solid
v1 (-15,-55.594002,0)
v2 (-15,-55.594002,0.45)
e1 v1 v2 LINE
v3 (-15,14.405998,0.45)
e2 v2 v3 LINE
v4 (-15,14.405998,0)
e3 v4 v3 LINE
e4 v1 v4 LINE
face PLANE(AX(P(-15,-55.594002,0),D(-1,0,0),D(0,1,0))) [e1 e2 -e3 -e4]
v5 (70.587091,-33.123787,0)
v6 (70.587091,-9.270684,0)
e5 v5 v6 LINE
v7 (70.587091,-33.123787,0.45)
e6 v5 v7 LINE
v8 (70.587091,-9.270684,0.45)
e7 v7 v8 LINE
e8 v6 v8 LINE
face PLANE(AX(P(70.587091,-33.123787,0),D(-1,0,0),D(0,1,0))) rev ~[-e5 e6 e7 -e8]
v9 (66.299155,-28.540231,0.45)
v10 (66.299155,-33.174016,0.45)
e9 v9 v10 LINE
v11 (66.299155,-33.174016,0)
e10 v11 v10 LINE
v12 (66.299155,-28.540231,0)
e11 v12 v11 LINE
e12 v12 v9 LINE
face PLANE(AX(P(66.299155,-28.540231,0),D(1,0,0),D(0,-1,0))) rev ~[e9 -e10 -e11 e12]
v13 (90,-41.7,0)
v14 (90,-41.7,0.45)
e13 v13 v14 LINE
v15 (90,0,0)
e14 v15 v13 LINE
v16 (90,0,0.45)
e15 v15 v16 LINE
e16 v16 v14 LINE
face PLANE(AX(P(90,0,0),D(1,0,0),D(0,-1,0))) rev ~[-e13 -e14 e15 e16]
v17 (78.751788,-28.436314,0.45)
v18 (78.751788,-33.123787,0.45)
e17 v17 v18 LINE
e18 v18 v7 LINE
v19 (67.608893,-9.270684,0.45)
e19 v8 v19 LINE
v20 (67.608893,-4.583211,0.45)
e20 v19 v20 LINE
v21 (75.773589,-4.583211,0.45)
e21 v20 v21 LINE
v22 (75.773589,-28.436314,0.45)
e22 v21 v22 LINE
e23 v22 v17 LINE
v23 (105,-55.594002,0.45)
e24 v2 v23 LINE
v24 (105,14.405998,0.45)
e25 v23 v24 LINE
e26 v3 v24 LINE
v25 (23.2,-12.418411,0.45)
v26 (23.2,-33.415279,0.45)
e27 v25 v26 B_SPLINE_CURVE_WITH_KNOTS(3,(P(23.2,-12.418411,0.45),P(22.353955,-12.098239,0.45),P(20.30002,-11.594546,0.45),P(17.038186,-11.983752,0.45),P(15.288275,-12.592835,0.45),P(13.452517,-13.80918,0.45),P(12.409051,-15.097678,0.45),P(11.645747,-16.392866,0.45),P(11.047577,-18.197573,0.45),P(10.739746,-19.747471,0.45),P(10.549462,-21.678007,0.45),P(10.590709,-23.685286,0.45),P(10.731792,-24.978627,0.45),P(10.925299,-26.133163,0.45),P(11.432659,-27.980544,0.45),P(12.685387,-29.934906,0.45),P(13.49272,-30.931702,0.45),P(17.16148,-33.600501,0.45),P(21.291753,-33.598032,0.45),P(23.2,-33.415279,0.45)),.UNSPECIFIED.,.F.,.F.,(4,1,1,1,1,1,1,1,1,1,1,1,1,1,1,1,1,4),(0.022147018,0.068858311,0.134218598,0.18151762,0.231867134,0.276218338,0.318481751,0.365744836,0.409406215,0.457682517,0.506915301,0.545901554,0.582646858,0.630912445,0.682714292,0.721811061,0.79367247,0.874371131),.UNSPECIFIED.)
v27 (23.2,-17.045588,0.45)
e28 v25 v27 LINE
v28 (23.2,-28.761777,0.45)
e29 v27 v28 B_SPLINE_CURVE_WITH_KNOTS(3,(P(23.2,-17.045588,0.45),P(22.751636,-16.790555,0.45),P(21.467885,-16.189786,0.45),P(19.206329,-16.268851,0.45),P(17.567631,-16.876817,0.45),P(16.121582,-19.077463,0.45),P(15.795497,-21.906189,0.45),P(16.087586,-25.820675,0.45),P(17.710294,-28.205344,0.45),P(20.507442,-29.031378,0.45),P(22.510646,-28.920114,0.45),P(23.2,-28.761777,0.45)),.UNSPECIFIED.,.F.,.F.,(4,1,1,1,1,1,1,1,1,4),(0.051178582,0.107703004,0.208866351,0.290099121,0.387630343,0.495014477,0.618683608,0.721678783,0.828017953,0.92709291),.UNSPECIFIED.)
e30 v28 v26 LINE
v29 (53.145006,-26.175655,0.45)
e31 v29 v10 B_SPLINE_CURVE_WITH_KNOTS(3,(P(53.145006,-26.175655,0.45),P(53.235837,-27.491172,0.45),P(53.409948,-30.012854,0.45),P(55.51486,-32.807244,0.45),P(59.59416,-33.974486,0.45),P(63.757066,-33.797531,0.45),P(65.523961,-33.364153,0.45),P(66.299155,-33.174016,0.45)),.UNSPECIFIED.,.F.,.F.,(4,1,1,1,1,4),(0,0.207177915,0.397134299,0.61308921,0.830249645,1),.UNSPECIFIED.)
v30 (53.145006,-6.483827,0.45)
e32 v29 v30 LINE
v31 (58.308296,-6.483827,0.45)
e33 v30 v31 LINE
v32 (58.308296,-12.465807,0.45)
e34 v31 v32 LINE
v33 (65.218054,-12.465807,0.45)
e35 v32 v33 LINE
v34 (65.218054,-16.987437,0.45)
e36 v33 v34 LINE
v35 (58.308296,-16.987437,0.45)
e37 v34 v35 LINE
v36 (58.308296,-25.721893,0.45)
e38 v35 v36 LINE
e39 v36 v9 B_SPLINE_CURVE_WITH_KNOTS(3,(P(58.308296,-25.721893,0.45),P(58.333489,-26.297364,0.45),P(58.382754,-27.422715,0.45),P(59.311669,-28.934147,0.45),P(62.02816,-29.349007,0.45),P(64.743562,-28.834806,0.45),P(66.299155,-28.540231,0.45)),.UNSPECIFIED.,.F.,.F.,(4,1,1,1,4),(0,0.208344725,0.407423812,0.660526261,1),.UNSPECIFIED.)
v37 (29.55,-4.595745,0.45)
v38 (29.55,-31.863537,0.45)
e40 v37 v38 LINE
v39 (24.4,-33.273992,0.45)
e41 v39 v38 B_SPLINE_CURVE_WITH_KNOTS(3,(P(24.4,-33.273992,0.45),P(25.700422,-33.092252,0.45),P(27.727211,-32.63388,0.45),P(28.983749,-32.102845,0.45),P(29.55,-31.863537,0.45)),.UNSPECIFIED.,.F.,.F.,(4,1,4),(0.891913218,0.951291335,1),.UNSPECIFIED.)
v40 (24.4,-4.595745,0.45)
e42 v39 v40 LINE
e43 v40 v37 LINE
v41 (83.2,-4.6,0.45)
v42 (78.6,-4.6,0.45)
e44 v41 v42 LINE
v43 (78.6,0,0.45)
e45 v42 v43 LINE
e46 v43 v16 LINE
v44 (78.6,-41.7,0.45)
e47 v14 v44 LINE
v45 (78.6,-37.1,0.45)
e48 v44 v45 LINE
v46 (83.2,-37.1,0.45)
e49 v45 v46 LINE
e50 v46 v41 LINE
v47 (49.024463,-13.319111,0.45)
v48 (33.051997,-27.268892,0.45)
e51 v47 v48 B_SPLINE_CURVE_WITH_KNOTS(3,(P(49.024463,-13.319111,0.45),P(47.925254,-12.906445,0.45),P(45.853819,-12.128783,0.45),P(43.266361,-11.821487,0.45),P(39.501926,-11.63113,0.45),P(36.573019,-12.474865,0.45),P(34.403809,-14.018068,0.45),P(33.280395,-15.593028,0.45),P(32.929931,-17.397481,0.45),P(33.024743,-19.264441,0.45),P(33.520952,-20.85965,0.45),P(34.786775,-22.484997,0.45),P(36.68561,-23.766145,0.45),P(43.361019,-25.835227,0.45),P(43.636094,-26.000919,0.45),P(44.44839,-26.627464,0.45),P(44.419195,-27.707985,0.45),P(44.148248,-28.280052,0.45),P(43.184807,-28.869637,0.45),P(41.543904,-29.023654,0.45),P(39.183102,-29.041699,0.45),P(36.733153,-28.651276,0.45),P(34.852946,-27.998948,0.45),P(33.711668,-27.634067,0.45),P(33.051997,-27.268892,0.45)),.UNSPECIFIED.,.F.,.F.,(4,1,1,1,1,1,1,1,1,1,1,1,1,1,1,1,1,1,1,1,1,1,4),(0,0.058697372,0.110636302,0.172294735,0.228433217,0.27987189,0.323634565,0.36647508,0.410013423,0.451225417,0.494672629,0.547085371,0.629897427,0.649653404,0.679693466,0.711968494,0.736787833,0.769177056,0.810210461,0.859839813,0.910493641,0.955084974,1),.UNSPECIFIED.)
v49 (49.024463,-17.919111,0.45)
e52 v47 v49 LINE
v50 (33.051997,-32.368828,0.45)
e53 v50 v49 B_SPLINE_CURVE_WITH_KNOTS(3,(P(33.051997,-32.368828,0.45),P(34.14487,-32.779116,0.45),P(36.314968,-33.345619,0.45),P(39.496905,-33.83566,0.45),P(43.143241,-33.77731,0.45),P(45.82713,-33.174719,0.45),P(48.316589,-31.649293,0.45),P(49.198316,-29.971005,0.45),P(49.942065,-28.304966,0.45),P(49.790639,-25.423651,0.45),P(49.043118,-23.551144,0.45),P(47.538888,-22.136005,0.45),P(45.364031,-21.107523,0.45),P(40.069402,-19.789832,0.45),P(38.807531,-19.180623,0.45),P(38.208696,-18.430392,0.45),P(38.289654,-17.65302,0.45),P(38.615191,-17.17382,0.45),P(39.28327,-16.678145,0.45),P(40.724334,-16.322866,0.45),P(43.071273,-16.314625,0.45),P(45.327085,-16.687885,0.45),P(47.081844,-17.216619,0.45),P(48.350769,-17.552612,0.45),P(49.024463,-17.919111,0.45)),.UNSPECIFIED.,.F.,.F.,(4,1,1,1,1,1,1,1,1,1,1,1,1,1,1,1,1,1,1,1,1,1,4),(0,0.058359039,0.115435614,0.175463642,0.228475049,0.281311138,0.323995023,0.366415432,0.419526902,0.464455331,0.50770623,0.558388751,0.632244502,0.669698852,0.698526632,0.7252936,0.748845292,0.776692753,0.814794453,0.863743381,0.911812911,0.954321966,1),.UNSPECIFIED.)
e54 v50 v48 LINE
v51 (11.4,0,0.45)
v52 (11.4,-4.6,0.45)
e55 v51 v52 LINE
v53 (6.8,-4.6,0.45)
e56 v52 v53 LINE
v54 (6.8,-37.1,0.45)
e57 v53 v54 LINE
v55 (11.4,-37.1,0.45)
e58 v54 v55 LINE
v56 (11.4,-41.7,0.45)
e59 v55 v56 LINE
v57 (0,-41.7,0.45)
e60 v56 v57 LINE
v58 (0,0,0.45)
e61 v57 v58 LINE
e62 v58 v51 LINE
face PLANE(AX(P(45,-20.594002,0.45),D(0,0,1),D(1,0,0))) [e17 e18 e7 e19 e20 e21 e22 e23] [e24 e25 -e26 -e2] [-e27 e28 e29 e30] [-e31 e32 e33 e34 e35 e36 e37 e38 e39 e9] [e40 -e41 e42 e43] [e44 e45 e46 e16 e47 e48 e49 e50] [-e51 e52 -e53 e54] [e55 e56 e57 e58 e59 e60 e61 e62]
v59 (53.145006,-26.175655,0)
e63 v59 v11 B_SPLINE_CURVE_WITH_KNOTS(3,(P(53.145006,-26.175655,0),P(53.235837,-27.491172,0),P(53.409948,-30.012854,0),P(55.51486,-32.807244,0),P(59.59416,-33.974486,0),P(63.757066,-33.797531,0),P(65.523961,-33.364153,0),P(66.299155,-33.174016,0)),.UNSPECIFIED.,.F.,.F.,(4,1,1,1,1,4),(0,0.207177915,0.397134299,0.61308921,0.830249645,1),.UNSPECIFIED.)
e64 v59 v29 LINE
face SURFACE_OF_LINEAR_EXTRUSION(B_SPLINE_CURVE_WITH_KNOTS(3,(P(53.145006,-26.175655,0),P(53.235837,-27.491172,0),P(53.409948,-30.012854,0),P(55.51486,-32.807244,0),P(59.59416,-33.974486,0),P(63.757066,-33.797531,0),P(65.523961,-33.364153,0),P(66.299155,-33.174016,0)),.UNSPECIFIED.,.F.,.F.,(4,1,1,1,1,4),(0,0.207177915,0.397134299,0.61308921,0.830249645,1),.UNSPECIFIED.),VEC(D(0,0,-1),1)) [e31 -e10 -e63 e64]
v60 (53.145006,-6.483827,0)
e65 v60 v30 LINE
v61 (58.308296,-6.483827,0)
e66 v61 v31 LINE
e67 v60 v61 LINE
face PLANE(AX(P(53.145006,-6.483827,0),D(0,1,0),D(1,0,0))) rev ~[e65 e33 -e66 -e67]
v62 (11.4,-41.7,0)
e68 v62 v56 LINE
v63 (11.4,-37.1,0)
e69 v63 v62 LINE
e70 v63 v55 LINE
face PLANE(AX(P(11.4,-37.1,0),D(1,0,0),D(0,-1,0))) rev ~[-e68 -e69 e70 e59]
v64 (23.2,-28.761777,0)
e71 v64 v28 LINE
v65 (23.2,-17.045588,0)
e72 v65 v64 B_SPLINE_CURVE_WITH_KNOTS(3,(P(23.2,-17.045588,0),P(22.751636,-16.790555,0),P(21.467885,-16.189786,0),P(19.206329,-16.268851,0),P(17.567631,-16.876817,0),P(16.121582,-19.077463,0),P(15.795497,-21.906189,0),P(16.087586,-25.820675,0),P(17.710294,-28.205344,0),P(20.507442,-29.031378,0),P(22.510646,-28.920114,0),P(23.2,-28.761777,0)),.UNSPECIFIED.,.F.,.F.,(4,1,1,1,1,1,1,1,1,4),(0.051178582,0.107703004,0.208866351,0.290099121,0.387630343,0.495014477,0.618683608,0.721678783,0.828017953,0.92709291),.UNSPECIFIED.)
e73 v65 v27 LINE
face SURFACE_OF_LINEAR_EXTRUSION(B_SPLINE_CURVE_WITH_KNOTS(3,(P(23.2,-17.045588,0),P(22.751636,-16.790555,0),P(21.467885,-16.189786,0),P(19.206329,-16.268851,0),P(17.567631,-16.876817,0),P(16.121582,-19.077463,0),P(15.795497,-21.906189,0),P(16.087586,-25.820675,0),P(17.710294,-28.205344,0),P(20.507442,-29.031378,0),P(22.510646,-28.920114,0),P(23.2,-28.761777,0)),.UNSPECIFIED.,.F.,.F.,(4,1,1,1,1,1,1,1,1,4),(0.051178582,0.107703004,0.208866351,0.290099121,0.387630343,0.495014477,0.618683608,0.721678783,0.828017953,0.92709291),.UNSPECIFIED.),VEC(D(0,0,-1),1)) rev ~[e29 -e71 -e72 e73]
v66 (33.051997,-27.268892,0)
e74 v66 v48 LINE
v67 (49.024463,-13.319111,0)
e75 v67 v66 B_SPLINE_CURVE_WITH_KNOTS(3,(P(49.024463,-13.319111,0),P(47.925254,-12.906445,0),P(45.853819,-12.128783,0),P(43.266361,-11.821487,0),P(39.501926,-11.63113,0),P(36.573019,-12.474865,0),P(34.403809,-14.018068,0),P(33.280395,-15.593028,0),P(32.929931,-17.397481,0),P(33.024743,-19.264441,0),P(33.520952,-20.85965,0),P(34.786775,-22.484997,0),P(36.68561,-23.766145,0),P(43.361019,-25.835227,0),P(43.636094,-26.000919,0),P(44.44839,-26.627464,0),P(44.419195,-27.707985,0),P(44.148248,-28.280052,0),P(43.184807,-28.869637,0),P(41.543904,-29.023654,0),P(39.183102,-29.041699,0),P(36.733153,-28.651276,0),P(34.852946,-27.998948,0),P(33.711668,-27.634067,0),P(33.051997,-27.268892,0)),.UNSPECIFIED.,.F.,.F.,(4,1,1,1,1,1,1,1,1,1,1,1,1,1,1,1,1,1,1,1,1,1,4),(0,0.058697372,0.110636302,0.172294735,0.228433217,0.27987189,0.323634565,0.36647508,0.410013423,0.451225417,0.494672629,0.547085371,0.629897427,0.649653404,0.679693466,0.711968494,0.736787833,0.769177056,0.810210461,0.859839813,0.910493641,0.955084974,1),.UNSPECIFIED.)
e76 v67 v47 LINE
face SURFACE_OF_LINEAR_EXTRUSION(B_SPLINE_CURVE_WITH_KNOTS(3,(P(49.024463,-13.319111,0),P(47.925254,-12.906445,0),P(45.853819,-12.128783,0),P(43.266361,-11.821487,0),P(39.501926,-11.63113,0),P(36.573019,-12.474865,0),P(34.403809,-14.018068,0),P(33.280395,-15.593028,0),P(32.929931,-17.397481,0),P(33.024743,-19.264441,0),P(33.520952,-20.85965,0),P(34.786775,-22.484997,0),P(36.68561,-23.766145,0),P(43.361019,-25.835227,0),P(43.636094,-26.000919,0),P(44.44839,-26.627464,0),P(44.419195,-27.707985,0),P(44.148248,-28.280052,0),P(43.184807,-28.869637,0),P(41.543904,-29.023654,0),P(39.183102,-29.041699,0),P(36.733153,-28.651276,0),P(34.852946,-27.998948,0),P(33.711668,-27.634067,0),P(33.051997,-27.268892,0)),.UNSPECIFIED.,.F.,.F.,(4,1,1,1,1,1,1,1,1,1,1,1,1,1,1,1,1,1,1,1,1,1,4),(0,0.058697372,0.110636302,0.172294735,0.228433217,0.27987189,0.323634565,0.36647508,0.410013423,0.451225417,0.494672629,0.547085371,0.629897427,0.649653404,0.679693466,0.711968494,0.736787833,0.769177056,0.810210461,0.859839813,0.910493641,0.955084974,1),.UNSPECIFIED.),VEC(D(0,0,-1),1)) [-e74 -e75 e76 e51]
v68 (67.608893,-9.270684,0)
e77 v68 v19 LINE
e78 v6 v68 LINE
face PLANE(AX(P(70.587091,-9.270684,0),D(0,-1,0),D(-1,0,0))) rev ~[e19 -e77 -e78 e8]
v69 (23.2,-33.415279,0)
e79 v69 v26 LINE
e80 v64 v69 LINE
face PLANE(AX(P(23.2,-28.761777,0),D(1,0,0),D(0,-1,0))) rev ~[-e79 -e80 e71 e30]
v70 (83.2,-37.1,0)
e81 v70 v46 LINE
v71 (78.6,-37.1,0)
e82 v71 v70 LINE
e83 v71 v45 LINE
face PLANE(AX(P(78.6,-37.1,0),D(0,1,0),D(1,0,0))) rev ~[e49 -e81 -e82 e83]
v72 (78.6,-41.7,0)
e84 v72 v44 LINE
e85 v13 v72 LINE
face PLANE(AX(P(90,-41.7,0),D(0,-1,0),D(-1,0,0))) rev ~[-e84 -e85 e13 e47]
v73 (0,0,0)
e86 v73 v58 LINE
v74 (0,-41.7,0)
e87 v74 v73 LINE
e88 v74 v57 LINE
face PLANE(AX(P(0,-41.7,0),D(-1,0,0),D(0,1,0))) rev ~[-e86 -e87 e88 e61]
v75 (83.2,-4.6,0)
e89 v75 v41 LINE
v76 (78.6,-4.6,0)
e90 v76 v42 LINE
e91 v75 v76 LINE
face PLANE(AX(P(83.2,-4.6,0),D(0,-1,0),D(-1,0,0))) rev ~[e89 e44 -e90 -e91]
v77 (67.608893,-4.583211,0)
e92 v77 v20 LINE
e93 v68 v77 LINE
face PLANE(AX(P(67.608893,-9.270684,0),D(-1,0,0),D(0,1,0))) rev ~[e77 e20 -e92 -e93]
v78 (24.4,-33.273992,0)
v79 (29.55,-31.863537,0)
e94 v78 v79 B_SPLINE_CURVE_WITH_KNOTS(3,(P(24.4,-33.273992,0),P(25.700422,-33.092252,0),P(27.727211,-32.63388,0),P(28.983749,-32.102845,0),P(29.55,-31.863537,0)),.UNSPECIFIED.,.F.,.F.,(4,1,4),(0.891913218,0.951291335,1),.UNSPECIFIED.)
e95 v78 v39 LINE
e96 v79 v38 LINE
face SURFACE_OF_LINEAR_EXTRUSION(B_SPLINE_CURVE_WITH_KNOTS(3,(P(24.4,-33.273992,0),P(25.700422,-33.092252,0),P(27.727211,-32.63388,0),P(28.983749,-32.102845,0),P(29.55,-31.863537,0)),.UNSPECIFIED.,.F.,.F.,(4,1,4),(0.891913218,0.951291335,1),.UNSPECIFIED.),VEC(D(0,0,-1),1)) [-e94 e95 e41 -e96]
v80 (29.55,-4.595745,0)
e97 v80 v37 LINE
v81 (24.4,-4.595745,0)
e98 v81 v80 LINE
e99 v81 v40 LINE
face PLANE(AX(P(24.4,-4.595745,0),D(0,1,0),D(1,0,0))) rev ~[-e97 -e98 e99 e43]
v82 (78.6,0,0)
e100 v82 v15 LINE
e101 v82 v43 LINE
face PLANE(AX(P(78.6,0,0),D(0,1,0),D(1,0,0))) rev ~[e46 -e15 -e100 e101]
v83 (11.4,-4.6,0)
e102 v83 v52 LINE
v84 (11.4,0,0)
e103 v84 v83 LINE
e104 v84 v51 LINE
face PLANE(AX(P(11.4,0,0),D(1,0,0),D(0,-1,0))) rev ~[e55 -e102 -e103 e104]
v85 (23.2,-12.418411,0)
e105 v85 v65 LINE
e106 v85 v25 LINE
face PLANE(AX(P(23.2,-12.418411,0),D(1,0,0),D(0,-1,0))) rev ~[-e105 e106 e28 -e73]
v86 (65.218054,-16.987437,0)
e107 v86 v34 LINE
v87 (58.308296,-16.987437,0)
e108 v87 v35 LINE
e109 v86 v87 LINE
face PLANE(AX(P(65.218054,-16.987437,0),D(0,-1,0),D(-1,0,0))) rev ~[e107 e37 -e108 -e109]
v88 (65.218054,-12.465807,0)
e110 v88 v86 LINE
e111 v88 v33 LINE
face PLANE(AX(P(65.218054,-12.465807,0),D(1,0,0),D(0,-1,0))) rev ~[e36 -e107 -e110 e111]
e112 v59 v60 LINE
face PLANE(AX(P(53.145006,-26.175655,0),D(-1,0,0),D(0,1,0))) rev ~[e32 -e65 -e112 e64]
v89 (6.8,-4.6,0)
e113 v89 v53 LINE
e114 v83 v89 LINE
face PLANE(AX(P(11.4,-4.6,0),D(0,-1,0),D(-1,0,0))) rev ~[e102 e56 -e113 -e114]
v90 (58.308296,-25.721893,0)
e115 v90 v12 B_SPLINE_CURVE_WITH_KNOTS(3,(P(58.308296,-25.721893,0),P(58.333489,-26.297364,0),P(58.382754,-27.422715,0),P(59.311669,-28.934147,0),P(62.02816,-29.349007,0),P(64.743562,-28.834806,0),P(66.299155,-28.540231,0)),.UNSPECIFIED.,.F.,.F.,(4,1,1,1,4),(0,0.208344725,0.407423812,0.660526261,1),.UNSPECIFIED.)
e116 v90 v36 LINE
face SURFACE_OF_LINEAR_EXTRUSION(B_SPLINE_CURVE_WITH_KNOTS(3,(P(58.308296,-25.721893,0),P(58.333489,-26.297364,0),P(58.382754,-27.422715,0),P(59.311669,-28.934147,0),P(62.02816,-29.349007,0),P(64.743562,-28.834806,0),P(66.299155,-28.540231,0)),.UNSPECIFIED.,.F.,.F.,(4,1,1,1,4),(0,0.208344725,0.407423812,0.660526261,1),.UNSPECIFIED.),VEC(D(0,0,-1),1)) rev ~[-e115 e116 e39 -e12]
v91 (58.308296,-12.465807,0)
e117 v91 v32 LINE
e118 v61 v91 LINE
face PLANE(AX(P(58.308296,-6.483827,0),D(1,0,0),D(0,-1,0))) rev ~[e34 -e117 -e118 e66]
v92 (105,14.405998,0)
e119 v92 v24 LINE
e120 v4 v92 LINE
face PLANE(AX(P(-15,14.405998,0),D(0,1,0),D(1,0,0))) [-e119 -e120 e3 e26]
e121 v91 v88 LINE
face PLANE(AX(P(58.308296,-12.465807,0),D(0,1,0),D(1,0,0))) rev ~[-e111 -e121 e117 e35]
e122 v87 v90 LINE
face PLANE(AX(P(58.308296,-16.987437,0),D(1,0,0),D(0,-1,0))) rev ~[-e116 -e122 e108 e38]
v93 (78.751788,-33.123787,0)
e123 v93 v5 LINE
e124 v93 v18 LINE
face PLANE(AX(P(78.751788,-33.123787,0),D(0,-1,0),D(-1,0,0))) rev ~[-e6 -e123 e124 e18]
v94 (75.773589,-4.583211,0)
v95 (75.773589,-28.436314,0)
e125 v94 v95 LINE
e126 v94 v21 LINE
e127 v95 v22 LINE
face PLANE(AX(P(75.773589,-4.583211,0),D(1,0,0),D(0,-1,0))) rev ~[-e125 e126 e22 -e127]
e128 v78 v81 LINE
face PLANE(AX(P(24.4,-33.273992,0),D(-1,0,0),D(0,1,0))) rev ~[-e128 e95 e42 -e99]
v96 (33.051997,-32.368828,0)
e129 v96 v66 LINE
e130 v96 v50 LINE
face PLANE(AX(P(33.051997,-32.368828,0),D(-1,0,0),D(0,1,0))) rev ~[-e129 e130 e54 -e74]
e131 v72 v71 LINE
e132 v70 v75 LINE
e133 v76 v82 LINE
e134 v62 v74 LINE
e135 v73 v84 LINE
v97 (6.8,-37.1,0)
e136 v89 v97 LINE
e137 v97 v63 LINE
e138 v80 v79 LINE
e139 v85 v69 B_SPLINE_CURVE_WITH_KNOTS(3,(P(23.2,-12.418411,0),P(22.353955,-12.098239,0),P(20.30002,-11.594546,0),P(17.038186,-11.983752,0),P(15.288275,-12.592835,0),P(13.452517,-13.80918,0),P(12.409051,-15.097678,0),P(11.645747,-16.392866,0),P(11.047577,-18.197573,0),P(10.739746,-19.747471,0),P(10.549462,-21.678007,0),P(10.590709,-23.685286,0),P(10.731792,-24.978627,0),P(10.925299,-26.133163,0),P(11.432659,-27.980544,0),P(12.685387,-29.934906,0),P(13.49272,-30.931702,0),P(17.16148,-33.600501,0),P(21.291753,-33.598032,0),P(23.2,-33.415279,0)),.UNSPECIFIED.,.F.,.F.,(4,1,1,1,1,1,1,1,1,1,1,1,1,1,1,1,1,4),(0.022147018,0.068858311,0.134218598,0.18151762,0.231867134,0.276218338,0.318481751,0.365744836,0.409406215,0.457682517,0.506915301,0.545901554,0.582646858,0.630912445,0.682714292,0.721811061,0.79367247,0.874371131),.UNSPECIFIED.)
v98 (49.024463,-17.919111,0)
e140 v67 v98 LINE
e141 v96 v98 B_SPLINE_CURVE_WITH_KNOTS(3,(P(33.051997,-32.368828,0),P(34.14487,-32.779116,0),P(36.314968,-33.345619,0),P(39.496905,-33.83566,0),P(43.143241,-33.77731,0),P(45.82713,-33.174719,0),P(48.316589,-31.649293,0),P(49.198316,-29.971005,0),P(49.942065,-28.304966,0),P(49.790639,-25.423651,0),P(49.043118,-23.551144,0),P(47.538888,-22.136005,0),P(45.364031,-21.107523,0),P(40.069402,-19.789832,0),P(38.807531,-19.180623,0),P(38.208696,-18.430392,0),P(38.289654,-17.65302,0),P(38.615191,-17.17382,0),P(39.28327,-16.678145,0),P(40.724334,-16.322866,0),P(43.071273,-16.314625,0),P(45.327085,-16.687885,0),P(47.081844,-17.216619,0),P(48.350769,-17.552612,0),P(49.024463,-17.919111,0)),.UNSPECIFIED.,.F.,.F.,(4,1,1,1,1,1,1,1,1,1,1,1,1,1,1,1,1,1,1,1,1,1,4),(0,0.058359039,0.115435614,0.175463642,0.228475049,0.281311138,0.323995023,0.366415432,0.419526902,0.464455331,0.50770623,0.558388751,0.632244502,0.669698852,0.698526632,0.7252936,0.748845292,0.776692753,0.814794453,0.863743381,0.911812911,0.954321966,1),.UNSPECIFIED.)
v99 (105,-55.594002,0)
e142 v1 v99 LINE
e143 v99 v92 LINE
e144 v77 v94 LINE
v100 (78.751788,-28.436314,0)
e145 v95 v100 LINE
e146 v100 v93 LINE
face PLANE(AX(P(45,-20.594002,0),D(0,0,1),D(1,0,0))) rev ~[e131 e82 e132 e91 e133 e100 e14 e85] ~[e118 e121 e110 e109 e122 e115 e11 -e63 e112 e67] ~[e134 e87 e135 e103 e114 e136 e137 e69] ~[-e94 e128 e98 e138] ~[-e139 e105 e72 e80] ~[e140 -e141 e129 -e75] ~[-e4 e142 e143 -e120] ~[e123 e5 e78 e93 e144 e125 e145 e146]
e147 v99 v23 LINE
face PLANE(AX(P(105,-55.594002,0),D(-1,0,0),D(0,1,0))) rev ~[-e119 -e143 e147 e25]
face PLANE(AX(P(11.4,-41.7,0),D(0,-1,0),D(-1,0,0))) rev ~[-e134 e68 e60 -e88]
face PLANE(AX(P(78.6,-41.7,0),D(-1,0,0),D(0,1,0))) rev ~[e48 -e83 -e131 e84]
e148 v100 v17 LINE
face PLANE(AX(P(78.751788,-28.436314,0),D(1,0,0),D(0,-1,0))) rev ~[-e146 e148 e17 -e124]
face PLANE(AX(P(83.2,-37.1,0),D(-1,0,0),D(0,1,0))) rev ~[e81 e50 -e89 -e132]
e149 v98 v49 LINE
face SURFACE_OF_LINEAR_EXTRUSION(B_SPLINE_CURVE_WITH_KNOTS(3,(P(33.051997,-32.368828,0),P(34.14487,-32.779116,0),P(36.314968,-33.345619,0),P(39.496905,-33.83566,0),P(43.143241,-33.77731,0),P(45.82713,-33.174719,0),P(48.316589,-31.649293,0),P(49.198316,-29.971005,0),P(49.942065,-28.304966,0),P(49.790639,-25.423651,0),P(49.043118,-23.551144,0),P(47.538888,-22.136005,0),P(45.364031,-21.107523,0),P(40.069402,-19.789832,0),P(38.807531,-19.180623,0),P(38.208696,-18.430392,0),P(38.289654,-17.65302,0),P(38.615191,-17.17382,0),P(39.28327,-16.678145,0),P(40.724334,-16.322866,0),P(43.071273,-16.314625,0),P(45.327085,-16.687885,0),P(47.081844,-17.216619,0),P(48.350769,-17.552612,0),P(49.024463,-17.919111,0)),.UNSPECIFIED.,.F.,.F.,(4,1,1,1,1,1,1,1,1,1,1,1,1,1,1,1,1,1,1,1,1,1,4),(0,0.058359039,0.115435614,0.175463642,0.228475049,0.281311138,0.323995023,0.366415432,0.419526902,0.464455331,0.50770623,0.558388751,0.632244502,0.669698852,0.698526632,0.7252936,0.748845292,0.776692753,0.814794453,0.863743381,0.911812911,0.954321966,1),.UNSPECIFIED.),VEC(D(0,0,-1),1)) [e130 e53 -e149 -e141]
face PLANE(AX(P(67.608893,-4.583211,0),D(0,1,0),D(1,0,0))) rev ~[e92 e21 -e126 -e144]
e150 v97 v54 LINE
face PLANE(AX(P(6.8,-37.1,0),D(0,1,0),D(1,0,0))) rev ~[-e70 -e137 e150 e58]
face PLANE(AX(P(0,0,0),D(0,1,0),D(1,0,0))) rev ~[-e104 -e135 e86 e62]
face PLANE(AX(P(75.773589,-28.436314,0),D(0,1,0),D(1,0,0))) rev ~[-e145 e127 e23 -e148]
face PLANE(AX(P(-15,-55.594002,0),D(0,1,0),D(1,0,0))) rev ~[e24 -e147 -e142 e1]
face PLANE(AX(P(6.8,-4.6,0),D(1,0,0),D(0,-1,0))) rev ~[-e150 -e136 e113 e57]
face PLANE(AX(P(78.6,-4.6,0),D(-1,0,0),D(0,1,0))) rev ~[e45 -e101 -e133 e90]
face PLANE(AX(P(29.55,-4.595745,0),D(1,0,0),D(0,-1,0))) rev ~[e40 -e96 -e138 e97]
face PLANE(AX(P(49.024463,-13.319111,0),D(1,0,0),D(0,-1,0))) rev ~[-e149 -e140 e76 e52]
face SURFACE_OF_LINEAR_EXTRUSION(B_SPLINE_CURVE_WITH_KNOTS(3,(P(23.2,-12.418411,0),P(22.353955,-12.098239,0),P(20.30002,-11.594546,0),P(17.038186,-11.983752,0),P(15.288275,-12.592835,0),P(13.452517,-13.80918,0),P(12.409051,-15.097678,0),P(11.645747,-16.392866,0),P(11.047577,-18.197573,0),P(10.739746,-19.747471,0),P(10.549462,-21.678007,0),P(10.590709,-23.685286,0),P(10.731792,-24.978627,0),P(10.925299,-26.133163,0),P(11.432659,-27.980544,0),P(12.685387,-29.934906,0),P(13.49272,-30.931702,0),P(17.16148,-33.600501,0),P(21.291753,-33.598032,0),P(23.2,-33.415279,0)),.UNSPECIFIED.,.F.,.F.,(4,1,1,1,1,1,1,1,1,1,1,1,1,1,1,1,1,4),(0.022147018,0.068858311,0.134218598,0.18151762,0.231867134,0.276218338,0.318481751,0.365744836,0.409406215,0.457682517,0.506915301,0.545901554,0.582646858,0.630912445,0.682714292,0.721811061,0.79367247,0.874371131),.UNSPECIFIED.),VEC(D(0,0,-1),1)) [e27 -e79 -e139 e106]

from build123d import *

# Parameters (mm, degrees)
F0_W     = 120
F0_H     = 70
F1_DEPTH = 0.45


with BuildPart() as f1:
    # F0 (on Top) → F1 (new body)
    with BuildSketch(Plane.XY):
        with Locations((45, -20.5940017916)):
            Rectangle(F0_W, F0_H)
        Polygon((0, -41.7), (0, 0), (11.4, 0), (11.4, -4.6), (6.8, -4.6), (6.8, -37.1), (11.4, -37.1), (11.4, -41.7), align=None, mode=Mode.SUBTRACT)
        with BuildLine():
            add(Edge.make_bspline(
                [(49.0244626999, -13.3191114292), (47.9252540228, -12.906444504), (45.8538191761, -12.1287826579), (43.2663612955, -11.8214869365), (39.5019255003, -11.631129664), (36.5730189912, -12.474864537), (34.4038092797, -14.0180676075), (33.2803945568, -15.5930284945), (32.9299313394, -17.3974807024), (33.0247430864, -19.2644407239), (33.5209522718, -20.8596497074), (34.7867749379, -22.4849974638), (36.6856103348, -23.7661448154), (43.3610194247, -25.835227061), (43.6360937065, -26.0009190891), (44.4483901258, -26.6274642223), (44.4191952723, -27.7079845936), (44.1482479669, -28.2800521941), (43.1848069992, -28.8696367955), (41.5439042842, -29.0236538432), (39.1831019682, -29.0416993352), (36.7331527398, -28.6512756574), (34.8529455055, -27.9989479915), (33.7116681039, -27.6340674609), (33.0519974232, -27.2688921541)],
                knots=[0, 0, 0, 0, 0.058697372, 0.110636302, 0.1722947346, 0.2284332174, 0.2798718904, 0.3236345653, 0.3664750805, 0.4100134235, 0.4512254168, 0.4946726294, 0.5470853711, 0.6298974275, 0.6496534035, 0.6796934664, 0.7119684935, 0.7367878326, 0.7691770555, 0.8102104611, 0.8598398129, 0.9104936405, 0.9550849744, 1, 1, 1, 1], degree=3))
            Line((49.0244626999, -13.3191114292), (49.0244626999, -17.9191114292))
            add(Edge.make_bspline(
                [(33.0519974232, -32.3688276112), (34.1448702365, -32.7791159149), (36.314967668, -33.3456194979), (39.4969050095, -33.8356604205), (43.1432406988, -33.7773095484), (45.8271296831, -33.174718956), (48.3165885612, -31.6492934267), (49.1983157044, -29.9710049135), (49.9420651714, -28.3049662333), (49.79063894, -25.4236511303), (49.0431184959, -23.5511442072), (47.5388875476, -22.13600504), (45.3640309594, -21.1075226691), (40.0694021947, -19.7898320167), (38.8075306127, -19.1806229476), (38.208696017, -18.4303924596), (38.2896539771, -17.6530204289), (38.6151905672, -17.1738203692), (39.2832700379, -16.6781449879), (40.7243338821, -16.3228659689), (43.0712727288, -16.3146254531), (45.3270845524, -16.6878851711), (47.081843861, -17.216618614), (48.3507692652, -17.5526122014), (49.0244626999, -17.9191114292)],
                knots=[0, 0, 0, 0, 0.058359039, 0.1154356138, 0.1754636421, 0.2284750487, 0.2813111382, 0.3239950225, 0.3664154319, 0.4195269018, 0.4644553309, 0.5077062304, 0.5583887508, 0.6322445019, 0.6696988518, 0.6985266315, 0.7252936001, 0.7488452919, 0.7766927527, 0.8147944532, 0.8637433809, 0.9118129111, 0.9543219664, 1, 1, 1, 1], degree=3))
            Line((33.0519974232, -32.3688276112), (33.0519974232, -27.2688921541))
        make_face(mode=Mode.SUBTRACT)
        Polygon((78.6, 0), (90, 0), (90, -41.7), (78.6, -41.7), (78.6, -37.1), (83.2, -37.1), (83.2, -4.6), (78.6, -4.6), align=None, mode=Mode.SUBTRACT)
        with BuildLine():
            Line((24.4, -12.945509365), (24.4, -4.5957448892))
            Line((24.4, -4.5957448892), (29.55, -4.5957448892))
            Line((29.55, -4.5957448892), (29.55, -31.8635366857))
            add(Edge.make_bspline(
                [(24.4, -33.273992168), (25.7004217309, -33.0922522053), (27.7272105077, -32.6338796797), (28.9837485789, -32.1028445251), (29.55, -31.8635366857)],
                knots=[0.8919132181, 0.8919132181, 0.8919132181, 0.8919132181, 0.9512913353, 1, 1, 1, 1], degree=3))
            add(Edge.make_bspline(
                [(23.2, -33.4152791466), (23.3678544551, -33.3992036896), (23.7773773577, -33.3560077475), (24.1712775661, -33.305957188), (24.4, -33.273992168)],
                knots=[0.8743711311, 0.8743711311, 0.8743711311, 0.8743711311, 0.8814696004, 0.8919132181, 0.8919132181, 0.8919132181, 0.8919132181], degree=3))
            add(Edge.make_bspline(
                [(23.2, -12.4184105557), (22.353955123, -12.0982391249), (20.300020209, -11.5945459591), (17.0381857044, -11.9837518911), (15.2882745219, -12.5928346976), (13.4525169563, -13.8091804411), (12.4090514075, -15.0976781805), (11.6457469539, -16.3928656673), (11.0475767308, -18.1975733355), (10.7397463029, -19.7474709206), (10.5494624236, -21.6780066895), (10.5907092319, -23.6852864971), (10.7317916801, -24.9786265639), (10.9252988791, -26.1331634083), (11.4326593609, -27.9805441503), (12.6853868333, -29.9349062983), (13.4927203062, -30.9317017708), (17.1614801598, -33.6005005571), (21.2917534357, -33.598032328), (23.2, -33.4152791466)],
                knots=[0.0221470182, 0.0221470182, 0.0221470182, 0.0221470182, 0.0688583105, 0.1342185984, 0.1815176197, 0.2318671344, 0.2762183375, 0.3184817512, 0.3657448359, 0.4094062146, 0.4576825166, 0.5069153015, 0.5459015542, 0.5826468585, 0.630912445, 0.6827142916, 0.721811061, 0.7936724702, 0.8743711311, 0.8743711311, 0.8743711311, 0.8743711311], degree=3))
            add(Edge.make_bspline(
                [(24.4, -12.945509365), (24.0000077478, -12.7467932611), (23.6011315118, -12.5702120186), (23.2, -12.4184105557)],
                knots=[0, 0, 0, 0, 0.0221470182, 0.0221470182, 0.0221470182, 0.0221470182], degree=3))
        make_face(mode=Mode.SUBTRACT)
        with BuildLine():
            Line((53.145006299, -26.1756554246), (53.145006299, -6.4838272519))
            Line((53.145006299, -6.4838272519), (58.3082959056, -6.4838272519))
            Line((58.3082959056, -6.4838272519), (58.3082959056, -12.4658066779))
            Line((58.3082959056, -12.4658066779), (65.2180537581, -12.4658066779))
            Line((65.2180537581, -12.4658066779), (65.2180537581, -16.9874373823))
            Line((65.2180537581, -16.9874373823), (58.3082959056, -16.9874373823))
            Line((58.3082959056, -16.9874373823), (58.3082959056, -25.7218927145))
            add(Edge.make_bspline(
                [(58.3082959056, -25.7218927145), (58.3334888825, -26.2973643936), (58.3827544385, -27.4227150129), (59.3116686079, -28.9341466626), (62.0281598419, -29.3490070761), (64.7435618449, -28.8348057875), (66.2991553545, -28.5402312875)],
                knots=[0, 0, 0, 0, 0.2083447249, 0.4074238121, 0.6605262606, 1, 1, 1, 1], degree=3))
            Line((66.2991553545, -28.5402312875), (66.2991553545, -33.1740155816))
            add(Edge.make_bspline(
                [(53.145006299, -26.1756554246), (53.2358369544, -27.4911719973), (53.409948025, -30.0128536688), (55.5148597984, -32.8072442601), (59.5941601298, -33.9744860927), (63.7570664009, -33.7975310959), (65.5239611327, -33.3641527612), (66.2991553545, -33.1740155816)],
                knots=[0, 0, 0, 0, 0.2071779154, 0.3971342991, 0.6130892101, 0.8302496446, 1, 1, 1, 1], degree=3))
        make_face(mode=Mode.SUBTRACT)
        Polygon((67.6088929176, -9.2706838623), (67.6088929176, -4.5832106844), (75.773589313, -4.5832106844), (75.773589313, -28.4363143146), (78.7517875433, -28.4363143146), (78.7517875433, -33.1237874925), (70.5870911479, -33.1237874925), (70.5870911479, -9.2706838623), align=None, mode=Mode.SUBTRACT)
        with BuildLine():
            Line((24.4, -17.8031000884), (24.4, -12.945509365))
            add(Edge.make_bspline(
                [(24.4, -12.945509365), (24.0000077478, -12.7467932611), (23.6011315118, -12.5702120186), (23.2, -12.4184105557)],
                knots=[0, 0, 0, 0, 0.0221470182, 0.0221470182, 0.0221470182, 0.0221470182], degree=3))
            Line((23.2, -12.4184105557), (23.2, -17.0455879614))
            add(Edge.make_bspline(
                [(24.4, -17.8031000884), (24.0022402396, -17.5399449322), (23.6059596063, -17.2765007792), (23.2, -17.0455879614)],
                knots=[0, 0, 0, 0, 0.0511785816, 0.0511785816, 0.0511785816, 0.0511785816], degree=3))
        make_face()
        with BuildLine():
            Line((24.4, -28.2964663305), (24.4, -17.8031000884))
            add(Edge.make_bspline(
                [(24.4, -17.8031000884), (24.0022402396, -17.5399449322), (23.6059596063, -17.2765007792), (23.2, -17.0455879614)],
                knots=[0, 0, 0, 0, 0.0511785816, 0.0511785816, 0.0511785816, 0.0511785816], degree=3))
            add(Edge.make_bspline(
                [(23.2, -17.0455879614), (22.7516360262, -16.7905552266), (21.4678852314, -16.1897862791), (19.2063290642, -16.2688510227), (17.5676310689, -16.8768174376), (16.1215821339, -19.077462511), (15.7954970165, -21.9061888295), (16.0875859247, -25.8206750037), (17.7102939979, -28.2053442092), (20.5074421883, -29.0313779131), (22.5106455816, -28.9201136135), (23.2, -28.7617774098)],
                knots=[0.0511785816, 0.0511785816, 0.0511785816, 0.0511785816, 0.1077030039, 0.2088663507, 0.2900991208, 0.3876303429, 0.4950144775, 0.6186836084, 0.7216787831, 0.8280179533, 0.9270929098, 0.9270929098, 0.9270929098, 0.9270929098], degree=3))
            add(Edge.make_bspline(
                [(23.2, -28.7617774098), (23.2258245155, -28.7558458373), (23.7254739394, -28.6364441767), (24.068939705, -28.4613592858), (24.4, -28.2964663305)],
                knots=[0.9270929098, 0.9270929098, 0.9270929098, 0.9270929098, 0.9308044443, 1, 1, 1, 1], degree=3))
        make_face()
        with BuildLine():
            add(Edge.make_bspline(
                [(23.2, -33.4152791466), (23.3678544551, -33.3992036896), (23.7773773577, -33.3560077475), (24.1712775661, -33.305957188), (24.4, -33.273992168)],
                knots=[0.8743711311, 0.8743711311, 0.8743711311, 0.8743711311, 0.8814696004, 0.8919132181, 0.8919132181, 0.8919132181, 0.8919132181], degree=3))
            Line((24.4, -33.273992168), (24.4, -28.2964663305))
            add(Edge.make_bspline(
                [(23.2, -28.7617774098), (23.2258245155, -28.7558458373), (23.7254739394, -28.6364441767), (24.068939705, -28.4613592858), (24.4, -28.2964663305)],
                knots=[0.9270929098, 0.9270929098, 0.9270929098, 0.9270929098, 0.9308044443, 1, 1, 1, 1], degree=3))
            Line((23.2, -28.7617774098), (23.2, -33.4152791466))
        make_face()
    extrude(amount=F1_DEPTH)


solid = f1.part
